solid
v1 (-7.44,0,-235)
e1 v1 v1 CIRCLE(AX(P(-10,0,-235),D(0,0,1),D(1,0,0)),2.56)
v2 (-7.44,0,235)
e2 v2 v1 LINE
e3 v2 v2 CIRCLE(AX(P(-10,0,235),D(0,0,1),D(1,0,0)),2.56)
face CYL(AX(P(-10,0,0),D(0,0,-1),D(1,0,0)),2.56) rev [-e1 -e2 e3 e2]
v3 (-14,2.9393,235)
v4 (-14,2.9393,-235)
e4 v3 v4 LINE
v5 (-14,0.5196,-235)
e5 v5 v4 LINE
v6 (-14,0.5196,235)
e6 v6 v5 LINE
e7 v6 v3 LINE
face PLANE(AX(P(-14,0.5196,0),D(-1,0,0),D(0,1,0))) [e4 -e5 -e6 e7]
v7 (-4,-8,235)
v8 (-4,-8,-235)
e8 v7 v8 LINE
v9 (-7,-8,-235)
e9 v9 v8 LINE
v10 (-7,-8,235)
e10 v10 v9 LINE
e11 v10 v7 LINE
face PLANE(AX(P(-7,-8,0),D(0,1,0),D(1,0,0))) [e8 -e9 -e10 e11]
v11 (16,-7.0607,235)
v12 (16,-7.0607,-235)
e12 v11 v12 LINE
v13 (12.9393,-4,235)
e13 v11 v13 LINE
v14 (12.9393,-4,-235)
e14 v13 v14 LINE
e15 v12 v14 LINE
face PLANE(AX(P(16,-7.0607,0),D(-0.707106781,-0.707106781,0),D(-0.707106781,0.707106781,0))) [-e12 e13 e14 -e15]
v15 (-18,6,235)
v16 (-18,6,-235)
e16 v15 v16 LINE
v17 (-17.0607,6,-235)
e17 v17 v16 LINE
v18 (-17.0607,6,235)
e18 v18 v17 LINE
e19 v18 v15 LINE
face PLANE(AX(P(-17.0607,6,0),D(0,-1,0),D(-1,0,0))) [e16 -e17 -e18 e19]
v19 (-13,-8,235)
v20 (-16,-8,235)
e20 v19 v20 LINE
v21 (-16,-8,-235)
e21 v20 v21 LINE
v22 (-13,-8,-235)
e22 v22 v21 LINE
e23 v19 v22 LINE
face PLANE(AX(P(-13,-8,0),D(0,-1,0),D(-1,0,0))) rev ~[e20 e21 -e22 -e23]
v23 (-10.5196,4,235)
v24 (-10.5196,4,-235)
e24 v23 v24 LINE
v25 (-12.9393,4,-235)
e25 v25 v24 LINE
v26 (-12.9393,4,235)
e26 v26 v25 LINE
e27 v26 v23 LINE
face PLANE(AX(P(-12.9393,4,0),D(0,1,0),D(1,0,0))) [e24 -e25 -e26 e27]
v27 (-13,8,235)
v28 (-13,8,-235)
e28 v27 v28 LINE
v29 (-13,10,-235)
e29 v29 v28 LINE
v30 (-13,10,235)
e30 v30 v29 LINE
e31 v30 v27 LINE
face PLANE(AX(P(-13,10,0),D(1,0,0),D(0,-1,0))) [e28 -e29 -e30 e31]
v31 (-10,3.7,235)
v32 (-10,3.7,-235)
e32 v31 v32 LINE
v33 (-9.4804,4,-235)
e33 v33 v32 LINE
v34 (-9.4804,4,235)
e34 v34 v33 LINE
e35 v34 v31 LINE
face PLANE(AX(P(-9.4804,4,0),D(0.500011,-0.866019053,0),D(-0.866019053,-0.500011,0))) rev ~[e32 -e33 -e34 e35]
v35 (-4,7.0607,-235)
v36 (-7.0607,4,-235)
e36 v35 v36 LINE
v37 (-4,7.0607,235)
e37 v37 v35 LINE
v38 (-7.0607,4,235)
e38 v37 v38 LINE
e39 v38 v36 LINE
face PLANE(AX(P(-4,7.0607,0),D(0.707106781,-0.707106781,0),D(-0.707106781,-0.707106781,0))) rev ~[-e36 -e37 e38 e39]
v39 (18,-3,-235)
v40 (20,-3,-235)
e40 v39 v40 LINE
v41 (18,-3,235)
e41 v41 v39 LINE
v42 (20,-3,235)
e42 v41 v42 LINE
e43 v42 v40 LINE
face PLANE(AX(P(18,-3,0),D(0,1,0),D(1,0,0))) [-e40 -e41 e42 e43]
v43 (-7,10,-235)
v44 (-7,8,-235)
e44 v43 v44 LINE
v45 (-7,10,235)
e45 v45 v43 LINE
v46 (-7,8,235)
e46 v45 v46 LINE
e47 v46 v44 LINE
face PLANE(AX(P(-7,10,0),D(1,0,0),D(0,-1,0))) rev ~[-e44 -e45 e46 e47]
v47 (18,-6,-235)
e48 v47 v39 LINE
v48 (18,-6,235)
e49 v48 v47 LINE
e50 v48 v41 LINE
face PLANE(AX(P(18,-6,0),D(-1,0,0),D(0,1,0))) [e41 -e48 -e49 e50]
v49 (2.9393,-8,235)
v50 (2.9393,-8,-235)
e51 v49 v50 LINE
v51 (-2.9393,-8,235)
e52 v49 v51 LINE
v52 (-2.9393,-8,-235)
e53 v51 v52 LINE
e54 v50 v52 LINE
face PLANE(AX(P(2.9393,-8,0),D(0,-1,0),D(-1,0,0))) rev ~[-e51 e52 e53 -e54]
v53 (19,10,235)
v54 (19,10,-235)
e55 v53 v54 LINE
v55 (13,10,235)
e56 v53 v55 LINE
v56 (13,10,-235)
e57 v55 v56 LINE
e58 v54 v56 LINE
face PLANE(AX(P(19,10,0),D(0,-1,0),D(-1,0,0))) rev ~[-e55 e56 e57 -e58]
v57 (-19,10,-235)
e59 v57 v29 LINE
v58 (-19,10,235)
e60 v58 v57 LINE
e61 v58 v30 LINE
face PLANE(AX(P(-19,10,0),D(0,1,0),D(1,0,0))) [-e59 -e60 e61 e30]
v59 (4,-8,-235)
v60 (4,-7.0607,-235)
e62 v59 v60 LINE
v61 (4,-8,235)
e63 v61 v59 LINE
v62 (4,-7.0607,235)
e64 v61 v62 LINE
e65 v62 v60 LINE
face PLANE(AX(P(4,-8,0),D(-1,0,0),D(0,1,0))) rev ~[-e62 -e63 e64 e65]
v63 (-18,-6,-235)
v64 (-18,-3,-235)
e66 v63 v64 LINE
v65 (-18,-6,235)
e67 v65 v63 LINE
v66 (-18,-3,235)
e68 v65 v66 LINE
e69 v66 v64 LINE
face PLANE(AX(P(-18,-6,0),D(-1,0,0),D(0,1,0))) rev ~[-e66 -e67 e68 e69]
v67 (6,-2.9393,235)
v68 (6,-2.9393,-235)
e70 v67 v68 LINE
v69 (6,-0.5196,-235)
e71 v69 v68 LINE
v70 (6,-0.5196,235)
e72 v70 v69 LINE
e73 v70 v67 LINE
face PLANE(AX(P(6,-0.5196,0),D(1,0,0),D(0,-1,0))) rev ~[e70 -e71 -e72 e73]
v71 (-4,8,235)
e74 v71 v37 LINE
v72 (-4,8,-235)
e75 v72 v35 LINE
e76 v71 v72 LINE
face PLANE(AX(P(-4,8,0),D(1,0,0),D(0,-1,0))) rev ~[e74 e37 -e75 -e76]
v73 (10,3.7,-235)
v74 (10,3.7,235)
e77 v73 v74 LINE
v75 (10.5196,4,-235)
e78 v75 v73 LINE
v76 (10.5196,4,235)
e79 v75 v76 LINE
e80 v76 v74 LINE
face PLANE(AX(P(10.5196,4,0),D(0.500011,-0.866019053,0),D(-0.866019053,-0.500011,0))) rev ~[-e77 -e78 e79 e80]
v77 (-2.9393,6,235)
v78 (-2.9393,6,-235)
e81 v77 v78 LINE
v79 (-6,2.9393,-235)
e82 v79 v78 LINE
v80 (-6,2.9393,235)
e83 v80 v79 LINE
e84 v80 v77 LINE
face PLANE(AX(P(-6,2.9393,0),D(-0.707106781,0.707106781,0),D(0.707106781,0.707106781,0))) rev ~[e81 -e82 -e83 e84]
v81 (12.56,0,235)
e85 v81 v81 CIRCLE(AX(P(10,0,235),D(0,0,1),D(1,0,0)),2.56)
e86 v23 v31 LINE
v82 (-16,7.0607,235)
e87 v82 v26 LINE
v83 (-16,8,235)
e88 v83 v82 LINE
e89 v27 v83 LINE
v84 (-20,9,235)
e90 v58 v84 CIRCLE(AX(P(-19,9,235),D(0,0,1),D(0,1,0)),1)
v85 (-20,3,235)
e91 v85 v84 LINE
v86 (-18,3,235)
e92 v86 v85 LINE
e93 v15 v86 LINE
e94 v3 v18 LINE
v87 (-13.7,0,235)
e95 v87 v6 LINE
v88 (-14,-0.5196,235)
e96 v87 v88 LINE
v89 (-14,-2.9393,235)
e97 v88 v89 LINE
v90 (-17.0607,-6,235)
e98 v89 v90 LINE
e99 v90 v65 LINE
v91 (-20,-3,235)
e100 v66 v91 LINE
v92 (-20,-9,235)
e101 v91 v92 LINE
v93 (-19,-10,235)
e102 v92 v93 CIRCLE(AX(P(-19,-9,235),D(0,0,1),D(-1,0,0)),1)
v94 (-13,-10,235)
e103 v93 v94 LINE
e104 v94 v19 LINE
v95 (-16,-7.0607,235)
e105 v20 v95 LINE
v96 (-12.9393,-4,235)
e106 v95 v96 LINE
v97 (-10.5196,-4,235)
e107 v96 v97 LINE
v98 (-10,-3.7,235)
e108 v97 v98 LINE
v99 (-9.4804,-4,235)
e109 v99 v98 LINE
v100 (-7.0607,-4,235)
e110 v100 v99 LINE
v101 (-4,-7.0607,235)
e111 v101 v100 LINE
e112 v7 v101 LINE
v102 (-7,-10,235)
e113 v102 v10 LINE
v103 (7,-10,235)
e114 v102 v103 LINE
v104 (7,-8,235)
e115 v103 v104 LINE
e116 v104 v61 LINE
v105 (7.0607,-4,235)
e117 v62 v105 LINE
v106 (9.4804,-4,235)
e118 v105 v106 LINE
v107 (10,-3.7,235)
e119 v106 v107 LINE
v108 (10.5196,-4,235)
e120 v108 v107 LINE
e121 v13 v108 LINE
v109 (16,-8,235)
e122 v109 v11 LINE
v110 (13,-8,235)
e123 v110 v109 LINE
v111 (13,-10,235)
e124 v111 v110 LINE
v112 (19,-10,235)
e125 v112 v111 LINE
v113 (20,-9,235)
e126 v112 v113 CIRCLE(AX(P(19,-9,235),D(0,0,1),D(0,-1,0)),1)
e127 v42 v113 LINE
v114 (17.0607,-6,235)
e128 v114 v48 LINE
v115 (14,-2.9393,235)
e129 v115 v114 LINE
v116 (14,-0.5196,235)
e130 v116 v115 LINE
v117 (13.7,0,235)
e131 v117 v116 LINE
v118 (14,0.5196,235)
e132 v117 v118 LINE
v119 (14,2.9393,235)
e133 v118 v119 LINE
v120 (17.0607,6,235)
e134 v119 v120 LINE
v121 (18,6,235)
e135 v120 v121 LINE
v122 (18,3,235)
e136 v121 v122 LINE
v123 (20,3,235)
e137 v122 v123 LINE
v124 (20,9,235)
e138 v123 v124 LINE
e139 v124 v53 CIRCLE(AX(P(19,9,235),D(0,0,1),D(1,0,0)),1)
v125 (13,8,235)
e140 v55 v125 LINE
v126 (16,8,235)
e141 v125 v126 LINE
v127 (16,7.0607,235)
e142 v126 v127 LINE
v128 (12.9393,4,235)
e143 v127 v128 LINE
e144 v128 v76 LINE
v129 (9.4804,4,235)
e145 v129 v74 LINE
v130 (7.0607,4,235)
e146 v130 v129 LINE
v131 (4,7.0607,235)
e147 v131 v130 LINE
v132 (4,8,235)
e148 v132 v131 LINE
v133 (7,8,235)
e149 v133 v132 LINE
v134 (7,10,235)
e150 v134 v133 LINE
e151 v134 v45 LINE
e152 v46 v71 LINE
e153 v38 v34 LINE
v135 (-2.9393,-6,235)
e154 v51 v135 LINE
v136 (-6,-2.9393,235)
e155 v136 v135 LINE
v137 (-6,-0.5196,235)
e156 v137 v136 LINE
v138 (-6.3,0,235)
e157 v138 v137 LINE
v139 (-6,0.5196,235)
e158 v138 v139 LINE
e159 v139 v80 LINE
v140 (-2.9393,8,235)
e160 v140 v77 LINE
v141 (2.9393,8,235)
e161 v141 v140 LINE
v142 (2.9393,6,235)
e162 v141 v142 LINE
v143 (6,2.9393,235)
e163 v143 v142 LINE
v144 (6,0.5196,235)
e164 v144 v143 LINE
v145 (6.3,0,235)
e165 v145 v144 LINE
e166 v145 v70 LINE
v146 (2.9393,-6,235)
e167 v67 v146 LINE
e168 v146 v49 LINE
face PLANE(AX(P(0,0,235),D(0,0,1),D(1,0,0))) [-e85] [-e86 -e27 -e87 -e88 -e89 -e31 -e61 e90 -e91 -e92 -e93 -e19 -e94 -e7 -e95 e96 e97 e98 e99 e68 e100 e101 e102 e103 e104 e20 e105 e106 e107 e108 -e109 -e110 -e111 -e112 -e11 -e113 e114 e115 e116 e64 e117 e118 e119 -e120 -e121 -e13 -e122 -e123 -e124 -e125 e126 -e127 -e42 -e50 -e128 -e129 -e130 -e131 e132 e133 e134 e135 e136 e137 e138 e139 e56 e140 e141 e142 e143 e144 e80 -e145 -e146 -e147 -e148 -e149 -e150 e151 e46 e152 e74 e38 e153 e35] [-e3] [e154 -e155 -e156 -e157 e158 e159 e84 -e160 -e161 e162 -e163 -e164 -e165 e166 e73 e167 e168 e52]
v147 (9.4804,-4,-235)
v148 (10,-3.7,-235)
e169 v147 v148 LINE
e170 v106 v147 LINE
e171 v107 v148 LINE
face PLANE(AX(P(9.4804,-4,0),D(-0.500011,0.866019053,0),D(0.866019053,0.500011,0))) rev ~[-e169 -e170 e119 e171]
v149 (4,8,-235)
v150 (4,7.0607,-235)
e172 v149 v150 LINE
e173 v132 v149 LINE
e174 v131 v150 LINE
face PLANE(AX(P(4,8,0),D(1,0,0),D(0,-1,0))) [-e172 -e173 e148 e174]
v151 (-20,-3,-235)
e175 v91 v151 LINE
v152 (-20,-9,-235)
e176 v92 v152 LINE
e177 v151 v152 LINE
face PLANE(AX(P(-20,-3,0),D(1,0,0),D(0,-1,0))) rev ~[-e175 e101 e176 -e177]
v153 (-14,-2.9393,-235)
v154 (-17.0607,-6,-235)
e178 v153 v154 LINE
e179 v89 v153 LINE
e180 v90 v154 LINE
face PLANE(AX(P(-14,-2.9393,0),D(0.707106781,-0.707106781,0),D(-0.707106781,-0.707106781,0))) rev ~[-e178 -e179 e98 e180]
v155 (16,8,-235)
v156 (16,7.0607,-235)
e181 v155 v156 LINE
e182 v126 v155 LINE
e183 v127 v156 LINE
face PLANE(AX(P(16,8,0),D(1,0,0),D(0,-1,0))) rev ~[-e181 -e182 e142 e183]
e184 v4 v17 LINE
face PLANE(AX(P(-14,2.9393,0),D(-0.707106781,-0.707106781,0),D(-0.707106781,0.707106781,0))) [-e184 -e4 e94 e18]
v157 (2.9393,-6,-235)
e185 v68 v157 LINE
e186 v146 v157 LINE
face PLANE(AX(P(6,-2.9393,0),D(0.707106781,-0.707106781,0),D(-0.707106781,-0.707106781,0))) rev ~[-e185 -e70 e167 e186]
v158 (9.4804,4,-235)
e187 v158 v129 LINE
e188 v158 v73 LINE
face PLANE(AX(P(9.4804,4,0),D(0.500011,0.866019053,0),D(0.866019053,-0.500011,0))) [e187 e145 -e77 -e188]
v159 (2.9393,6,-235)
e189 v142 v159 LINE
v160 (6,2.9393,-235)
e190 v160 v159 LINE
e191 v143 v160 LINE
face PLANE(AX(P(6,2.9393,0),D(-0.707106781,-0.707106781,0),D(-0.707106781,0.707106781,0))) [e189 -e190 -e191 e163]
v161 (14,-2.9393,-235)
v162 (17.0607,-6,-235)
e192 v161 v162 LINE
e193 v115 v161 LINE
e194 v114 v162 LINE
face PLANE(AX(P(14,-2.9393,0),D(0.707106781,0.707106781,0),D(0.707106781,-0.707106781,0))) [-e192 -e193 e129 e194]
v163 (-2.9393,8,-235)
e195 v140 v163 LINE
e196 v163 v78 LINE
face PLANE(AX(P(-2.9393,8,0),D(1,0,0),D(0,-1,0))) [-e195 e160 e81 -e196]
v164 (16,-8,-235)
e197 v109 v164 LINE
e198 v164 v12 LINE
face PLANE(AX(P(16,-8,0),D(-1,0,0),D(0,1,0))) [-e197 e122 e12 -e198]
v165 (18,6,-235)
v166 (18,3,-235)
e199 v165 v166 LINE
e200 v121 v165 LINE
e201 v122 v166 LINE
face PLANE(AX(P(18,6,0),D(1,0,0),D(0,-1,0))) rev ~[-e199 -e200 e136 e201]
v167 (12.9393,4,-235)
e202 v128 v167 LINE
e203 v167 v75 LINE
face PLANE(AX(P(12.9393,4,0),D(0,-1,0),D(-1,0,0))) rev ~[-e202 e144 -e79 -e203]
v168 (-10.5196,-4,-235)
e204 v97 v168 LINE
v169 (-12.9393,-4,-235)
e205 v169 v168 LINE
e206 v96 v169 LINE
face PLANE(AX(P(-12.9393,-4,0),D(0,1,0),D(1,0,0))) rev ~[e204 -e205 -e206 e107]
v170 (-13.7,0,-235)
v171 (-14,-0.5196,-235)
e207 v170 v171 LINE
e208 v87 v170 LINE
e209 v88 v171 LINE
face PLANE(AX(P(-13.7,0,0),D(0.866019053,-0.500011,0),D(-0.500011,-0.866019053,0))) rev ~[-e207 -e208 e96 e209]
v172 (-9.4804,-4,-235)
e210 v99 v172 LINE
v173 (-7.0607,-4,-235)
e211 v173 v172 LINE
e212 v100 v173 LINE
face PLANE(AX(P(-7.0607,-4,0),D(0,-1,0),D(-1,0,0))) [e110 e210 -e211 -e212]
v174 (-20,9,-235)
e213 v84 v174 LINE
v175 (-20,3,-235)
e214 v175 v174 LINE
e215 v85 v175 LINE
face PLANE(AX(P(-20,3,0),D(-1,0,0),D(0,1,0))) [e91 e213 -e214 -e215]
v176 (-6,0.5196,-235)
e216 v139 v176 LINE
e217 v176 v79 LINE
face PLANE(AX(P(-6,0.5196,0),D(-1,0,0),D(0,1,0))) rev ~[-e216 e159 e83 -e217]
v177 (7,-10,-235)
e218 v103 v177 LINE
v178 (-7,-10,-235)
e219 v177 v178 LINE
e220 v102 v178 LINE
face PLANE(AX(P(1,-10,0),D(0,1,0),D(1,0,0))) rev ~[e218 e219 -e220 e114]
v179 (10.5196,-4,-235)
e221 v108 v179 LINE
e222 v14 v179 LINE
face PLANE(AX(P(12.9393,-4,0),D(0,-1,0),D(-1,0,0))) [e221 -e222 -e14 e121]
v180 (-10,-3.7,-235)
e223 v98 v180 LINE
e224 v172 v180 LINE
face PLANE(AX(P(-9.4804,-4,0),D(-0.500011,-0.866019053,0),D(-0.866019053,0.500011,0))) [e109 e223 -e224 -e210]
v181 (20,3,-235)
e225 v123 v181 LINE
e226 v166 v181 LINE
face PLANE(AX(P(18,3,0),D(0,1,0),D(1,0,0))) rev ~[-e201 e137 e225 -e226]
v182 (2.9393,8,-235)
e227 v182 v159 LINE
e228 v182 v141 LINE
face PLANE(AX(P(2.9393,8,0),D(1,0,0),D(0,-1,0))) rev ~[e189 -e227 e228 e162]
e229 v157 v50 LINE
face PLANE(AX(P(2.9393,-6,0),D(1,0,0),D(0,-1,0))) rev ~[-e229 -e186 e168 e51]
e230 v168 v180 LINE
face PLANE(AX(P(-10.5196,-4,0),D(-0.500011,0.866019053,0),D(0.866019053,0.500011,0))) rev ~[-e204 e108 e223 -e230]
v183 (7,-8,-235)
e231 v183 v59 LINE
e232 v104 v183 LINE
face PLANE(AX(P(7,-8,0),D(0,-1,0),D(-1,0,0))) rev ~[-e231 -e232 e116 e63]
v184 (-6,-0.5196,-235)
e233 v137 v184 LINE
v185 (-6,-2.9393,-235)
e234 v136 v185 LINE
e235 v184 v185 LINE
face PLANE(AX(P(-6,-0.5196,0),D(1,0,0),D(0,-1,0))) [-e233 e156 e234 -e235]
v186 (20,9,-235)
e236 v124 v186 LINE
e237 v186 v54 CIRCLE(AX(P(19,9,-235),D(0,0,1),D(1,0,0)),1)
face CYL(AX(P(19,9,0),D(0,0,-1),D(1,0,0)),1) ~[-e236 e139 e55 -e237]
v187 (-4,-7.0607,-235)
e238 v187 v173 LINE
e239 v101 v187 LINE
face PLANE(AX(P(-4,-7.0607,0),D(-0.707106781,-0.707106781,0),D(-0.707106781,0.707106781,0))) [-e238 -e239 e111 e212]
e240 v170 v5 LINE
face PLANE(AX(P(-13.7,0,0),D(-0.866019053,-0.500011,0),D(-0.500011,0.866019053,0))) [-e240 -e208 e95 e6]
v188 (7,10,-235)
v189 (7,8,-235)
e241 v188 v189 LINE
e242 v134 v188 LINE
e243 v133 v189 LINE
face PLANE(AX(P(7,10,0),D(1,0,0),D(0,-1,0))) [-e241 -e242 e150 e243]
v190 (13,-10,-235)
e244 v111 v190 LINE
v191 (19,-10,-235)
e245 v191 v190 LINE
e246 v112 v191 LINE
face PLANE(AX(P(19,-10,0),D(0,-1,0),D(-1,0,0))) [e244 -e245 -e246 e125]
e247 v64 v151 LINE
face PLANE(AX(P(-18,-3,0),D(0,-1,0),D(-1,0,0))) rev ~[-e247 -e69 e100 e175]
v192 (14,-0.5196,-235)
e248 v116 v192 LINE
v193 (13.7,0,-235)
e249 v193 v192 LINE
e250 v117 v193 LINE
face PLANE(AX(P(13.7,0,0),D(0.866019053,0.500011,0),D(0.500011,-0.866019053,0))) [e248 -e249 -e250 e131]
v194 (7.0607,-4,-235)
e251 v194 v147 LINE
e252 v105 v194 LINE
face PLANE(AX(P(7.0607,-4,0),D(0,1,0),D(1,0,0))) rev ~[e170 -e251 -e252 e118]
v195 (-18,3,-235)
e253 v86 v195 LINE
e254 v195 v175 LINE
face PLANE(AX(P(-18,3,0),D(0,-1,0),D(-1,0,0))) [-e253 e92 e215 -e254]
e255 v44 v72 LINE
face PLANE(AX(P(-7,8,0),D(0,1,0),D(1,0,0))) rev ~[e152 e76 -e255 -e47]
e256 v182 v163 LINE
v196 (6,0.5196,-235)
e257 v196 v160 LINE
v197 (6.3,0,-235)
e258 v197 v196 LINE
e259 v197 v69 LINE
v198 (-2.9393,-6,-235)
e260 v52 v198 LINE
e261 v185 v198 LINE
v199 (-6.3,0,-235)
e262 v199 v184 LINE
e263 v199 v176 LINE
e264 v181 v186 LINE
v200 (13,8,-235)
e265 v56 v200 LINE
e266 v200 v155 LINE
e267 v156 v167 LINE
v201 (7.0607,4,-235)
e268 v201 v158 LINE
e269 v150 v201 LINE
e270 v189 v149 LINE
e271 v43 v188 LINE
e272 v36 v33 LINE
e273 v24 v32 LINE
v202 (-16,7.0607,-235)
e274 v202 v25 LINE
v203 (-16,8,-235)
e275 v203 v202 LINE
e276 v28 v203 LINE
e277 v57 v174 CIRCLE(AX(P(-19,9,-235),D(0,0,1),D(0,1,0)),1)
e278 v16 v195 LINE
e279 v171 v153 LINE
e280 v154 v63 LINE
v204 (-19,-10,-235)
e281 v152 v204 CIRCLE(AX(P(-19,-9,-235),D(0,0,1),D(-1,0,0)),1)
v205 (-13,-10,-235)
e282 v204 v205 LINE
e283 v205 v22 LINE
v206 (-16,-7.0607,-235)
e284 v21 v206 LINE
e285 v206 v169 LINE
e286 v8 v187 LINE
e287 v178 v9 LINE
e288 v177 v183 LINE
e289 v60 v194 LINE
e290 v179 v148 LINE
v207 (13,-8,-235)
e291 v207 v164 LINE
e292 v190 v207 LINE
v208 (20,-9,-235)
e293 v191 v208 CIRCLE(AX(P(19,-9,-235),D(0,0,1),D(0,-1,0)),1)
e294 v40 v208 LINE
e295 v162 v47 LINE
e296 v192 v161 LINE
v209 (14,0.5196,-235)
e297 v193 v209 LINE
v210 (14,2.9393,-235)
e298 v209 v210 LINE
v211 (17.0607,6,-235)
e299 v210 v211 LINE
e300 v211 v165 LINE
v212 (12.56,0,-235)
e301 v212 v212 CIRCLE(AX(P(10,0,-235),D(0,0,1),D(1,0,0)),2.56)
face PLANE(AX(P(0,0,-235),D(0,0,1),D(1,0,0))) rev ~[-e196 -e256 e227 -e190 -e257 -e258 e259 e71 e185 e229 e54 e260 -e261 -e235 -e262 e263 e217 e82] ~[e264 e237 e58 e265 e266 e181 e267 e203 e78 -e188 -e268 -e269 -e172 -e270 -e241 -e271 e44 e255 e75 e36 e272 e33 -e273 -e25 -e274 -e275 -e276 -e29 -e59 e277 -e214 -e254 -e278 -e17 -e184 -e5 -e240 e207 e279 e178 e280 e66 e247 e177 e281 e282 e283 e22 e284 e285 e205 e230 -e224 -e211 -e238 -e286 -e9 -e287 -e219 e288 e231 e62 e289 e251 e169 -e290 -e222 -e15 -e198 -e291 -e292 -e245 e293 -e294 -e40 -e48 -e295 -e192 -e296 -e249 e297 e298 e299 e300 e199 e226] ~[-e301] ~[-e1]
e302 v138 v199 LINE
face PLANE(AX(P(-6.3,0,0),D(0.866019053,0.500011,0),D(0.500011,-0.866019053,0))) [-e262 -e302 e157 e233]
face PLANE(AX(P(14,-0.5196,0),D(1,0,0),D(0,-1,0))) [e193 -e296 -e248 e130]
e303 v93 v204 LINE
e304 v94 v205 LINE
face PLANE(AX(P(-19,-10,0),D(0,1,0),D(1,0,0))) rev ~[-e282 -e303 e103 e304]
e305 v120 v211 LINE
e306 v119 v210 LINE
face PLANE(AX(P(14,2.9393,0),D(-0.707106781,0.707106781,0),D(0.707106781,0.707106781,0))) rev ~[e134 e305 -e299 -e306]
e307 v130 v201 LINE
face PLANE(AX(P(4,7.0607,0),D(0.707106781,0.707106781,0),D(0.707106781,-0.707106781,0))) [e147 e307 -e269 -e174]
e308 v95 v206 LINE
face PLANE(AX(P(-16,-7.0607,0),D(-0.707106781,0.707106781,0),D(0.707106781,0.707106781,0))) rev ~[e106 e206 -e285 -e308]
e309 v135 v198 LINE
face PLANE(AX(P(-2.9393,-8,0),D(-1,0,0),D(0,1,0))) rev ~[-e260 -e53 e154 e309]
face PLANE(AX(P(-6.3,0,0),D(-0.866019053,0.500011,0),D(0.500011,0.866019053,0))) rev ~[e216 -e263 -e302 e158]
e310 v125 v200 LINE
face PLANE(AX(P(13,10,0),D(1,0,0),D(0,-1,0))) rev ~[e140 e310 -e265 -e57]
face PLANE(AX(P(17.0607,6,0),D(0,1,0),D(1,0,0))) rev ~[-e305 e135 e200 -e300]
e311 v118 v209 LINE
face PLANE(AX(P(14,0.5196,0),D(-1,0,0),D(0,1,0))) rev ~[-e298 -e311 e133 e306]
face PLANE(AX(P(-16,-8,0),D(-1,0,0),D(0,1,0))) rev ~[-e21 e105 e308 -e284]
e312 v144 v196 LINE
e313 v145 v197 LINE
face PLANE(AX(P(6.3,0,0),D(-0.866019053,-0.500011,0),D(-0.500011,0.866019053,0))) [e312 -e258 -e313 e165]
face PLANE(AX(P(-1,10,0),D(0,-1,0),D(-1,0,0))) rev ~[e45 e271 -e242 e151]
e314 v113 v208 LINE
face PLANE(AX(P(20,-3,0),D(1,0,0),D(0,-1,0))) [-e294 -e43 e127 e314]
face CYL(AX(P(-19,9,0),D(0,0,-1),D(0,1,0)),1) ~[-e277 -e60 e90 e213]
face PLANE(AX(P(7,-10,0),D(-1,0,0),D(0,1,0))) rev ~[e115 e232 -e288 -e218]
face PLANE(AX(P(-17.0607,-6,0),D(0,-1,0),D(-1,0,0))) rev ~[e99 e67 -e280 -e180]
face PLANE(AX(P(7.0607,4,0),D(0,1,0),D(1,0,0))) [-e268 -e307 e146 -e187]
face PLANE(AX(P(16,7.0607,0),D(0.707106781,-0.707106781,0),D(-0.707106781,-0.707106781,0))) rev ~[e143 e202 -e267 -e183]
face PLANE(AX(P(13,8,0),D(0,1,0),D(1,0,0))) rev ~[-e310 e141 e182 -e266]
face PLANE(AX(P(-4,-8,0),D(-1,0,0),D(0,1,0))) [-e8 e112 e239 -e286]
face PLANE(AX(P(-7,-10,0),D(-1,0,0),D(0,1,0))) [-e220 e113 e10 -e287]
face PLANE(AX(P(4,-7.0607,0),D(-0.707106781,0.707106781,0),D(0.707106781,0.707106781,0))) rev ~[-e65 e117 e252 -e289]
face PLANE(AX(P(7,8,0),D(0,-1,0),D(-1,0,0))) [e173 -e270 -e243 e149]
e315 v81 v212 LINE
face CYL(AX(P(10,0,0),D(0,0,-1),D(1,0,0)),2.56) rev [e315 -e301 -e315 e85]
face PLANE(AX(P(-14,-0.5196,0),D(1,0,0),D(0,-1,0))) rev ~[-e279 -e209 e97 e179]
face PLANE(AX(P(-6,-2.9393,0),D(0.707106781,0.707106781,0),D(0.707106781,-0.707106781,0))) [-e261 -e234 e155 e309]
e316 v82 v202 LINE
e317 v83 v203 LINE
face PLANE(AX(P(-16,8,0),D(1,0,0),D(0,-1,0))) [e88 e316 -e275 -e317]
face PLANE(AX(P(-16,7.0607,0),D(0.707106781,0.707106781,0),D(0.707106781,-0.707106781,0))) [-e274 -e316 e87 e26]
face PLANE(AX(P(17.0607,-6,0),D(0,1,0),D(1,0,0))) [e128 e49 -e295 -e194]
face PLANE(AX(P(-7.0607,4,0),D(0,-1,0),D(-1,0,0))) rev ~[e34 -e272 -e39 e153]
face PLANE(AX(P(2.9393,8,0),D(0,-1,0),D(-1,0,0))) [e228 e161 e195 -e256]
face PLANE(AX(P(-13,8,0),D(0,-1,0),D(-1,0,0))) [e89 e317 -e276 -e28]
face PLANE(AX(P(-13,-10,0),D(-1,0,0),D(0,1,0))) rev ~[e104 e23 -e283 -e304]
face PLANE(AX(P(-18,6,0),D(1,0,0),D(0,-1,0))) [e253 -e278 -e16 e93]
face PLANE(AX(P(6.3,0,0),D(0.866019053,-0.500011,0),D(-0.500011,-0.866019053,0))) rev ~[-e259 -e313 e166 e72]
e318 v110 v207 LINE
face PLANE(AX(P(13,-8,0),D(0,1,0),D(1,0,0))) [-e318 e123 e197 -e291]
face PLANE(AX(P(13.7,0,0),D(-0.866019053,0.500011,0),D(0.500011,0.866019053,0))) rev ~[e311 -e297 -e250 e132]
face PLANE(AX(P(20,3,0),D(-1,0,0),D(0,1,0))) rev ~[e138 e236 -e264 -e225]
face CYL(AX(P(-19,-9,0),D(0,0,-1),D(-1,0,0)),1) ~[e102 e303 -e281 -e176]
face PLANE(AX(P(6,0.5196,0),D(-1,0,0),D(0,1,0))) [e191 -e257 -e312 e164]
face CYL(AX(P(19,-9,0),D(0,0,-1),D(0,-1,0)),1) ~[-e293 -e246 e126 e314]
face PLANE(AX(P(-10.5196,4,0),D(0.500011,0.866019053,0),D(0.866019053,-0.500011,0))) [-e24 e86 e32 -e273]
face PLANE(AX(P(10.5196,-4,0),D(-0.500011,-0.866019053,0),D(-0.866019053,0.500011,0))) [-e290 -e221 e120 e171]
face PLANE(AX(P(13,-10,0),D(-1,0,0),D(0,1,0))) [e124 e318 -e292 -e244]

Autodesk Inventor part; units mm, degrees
ref_plane "YZ Plane" through (0, 0, 0) normal (1, 0, 0) x (0, 1, 0)
ref_plane "XZ Plane" through (0, 0, 0) normal (0, 1, 0) x (-1, 0, 0)
ref_plane "XY Plane" through (0, 0, 0) normal (0, 0, 1) x (1, 0, 0)
sketch "Skizze1" plane through (0, 0, 0) normal (0, 0, 1) x (1, 0, 0)
  circle A0 centre (10, 0) radius 2.56
  line L0 (10.5196, 4) -> (10, 3.7)
  line L1 (14, 0.5196) -> (14, 2.9393)
  line L2 (12.9393, 4) -> (10.5196, 4)
  line L3 (13.7, 0) -> (14, 0.5196)
  line L4 (14, 2.9393) -> (17.0607, 6)
  line L5 (17.0607, 6) -> (18, 6)
  line L6 (18, 6) -> (18, 3)
  line L7 (18, 3) -> (20, 3)
  line L8 (16, 7.0607) -> (12.9393, 4)
  line L9 (13, 8) -> (16, 8)
  line L10 (16, 8) -> (16, 7.0607)
  line L11 (20, 3) -> (20, 9)
  line L12 (19, 10) -> (13, 10)
  arc A1 (20, 9) -> (19, 10) centre (19, 9) ccw
  line L13 (13, 10) -> (13, 8)
  line L14 (10, 0) -> (19.7071, 9.7071) construction
  line L15 (-14.2899, 0) -> (14.2899, 0) construction
  line L16 (10, -14.2899) -> (10, 14.2899) construction
  line L17 (-28.2899, 0) -> (28.2899, 0) construction
  line L18 (0, -20.0059) -> (0, 20.0059) construction
  line L19 (14, -0.5196) -> (14, -2.9393)
  line L20 (13.7, 0) -> (14, -0.5196)
  circle A2 centre (10, 0) radius 2.56
  line L21 (10.5196, -4) -> (10, -3.7)
  line L22 (12.9393, -4) -> (10.5196, -4)
  line L23 (17.0607, -6) -> (18, -6)
  line L24 (14, -2.9393) -> (17.0607, -6)
  line L25 (16, -8) -> (16, -7.0607)
  line L26 (13, -8) -> (16, -8)
  line L27 (10, 0) -> (19.7071, -9.7071) construction
  line L28 (20, -3) -> (20, -9)
  line L29 (19, -10) -> (13, -10)
  arc A3 (19, -10) -> (20, -9) centre (19, -9) ccw
  line L30 (13, -10) -> (13, -8)
  line L31 (16, -7.0607) -> (12.9393, -4)
  line L32 (18, -3) -> (20, -3)
  line L33 (18, -6) -> (18, -3)
  line L34 (-14, 0.5196) -> (-14, 2.9393)
  line L35 (-13.7, 0) -> (-14, 0.5196)
  circle A4 centre (-10, 0) radius 2.56
  line L36 (-10.5196, 4) -> (-10, 3.7)
  line L37 (-12.9393, 4) -> (-10.5196, 4)
  line L38 (-17.0607, 6) -> (-18, 6)
  line L39 (-14, 2.9393) -> (-17.0607, 6)
  line L40 (-16, 8) -> (-16, 7.0607)
  line L41 (-13, 8) -> (-16, 8)
  line L42 (-10, 0) -> (-19.7071, 9.7071) construction
  line L43 (-10, -14.2899) -> (-10, 14.2899) construction
  line L44 (-20, 3) -> (-20, 9)
  line L45 (-19, 10) -> (-13, 10)
  arc A5 (-19, 10) -> (-20, 9) centre (-19, 9) ccw
  line L46 (-13, 10) -> (-13, 8)
  line L47 (-16, 7.0607) -> (-12.9393, 4)
  line L48 (-18, 3) -> (-20, 3)
  line L49 (-18, 6) -> (-18, 3)
  line L50 (-13.7, 0) -> (-14, -0.5196)
  line L51 (-14, -0.5196) -> (-14, -2.9393)
  line L52 (-10.5196, -4) -> (-10, -3.7)
  circle A6 centre (-10, 0) radius 2.56
  line L53 (-12.9393, -4) -> (-10.5196, -4)
  line L54 (-13, -10) -> (-13, -8)
  line L55 (-16, -7.0607) -> (-12.9393, -4)
  line L56 (-16, -8) -> (-16, -7.0607)
  line L57 (-13, -8) -> (-16, -8)
  line L58 (-14, -2.9393) -> (-17.0607, -6)
  line L59 (-10, 0) -> (-19.7071, -9.7071) construction
  line L60 (-19, -10) -> (-13, -10)
  line L61 (-17.0607, -6) -> (-18, -6)
  arc A7 (-20, -9) -> (-19, -10) centre (-19, -9) ccw
  line L62 (-20, -3) -> (-20, -9)
  line L63 (-18, -3) -> (-20, -3)
  line L64 (-18, -6) -> (-18, -3)
  line L65 (-9.4804, 4) -> (-10, 3.7)
  line L66 (-7.0607, -4) -> (-9.4804, -4)
  line L67 (-9.4804, -4) -> (-10, -3.7)
  line L68 (-7.0607, 4) -> (-9.4804, 4)
  line L69 (-4, 8) -> (-4, 7.0607)
  line L70 (-7, 8) -> (-4, 8)
  line L71 (-1, 10) -> (-7, 10)
  line L72 (-7, 10) -> (-7, 8)
  line L73 (-4, -7.0607) -> (-7.0607, -4)
  line L74 (-4, -8) -> (-4, -7.0607)
  line L75 (-1, -10) -> (-7, -10)
  line L76 (-7, -8) -> (-4, -8)
  line L77 (-7, -10) -> (-7, -8)
  line L78 (-4, 7.0607) -> (-7.0607, 4)
  line L79 (9.4804, 4) -> (10, 3.7)
  line L80 (7.0607, 4) -> (9.4804, 4)
  line L81 (4, 8) -> (4, 7.0607)
  line L82 (7, 8) -> (4, 8)
  line L83 (1, 10) -> (7, 10)
  line L84 (7, 10) -> (7, 8)
  line L85 (4, 7.0607) -> (7.0607, 4)
  line L86 (9.4804, -4) -> (10, -3.7)
  line L87 (7.0607, -4) -> (9.4804, -4)
  line L88 (7, -10) -> (7, -8)
  line L89 (4, -7.0607) -> (7.0607, -4)
  line L90 (4, -8) -> (4, -7.0607)
  line L91 (7, -8) -> (4, -8)
  line L92 (1, -10) -> (7, -10)
  line L93 (-1, 10) -> (1, 10)
  line L94 (-1, -10) -> (1, -10)
  line L95 (2.9393, 8) -> (-2.9393, 8)
  line L96 (2.9393, 8) -> (2.9393, 6)
  line L97 (6, 0.5196) -> (6, 2.9393)
  line L98 (6.3, 0) -> (6, 0.5196)
  line L99 (6, 2.9393) -> (2.9393, 6)
  line L100 (6.3, 0) -> (6, -0.5196)
  line L101 (6, -0.5196) -> (6, -2.9393)
  line L102 (6, -2.9393) -> (2.9393, -6)
  line L103 (-6.3, 0) -> (-6, -0.5196)
  line L104 (-6, 2.9393) -> (-2.9393, 6)
  line L105 (-6, 0.5196) -> (-6, 2.9393)
  line L106 (-6.3, 0) -> (-6, 0.5196)
  line L107 (-6, -0.5196) -> (-6, -2.9393)
  line L108 (-6, -2.9393) -> (-2.9393, -6)
  line L109 (-2.9393, 8) -> (-2.9393, 6)
  line L110 (2.9393, -6) -> (2.9393, -8)
  line L111 (2.9393, -8) -> (-2.9393, -8)
  line L112 (-2.9393, -8) -> (-2.9393, -6)
  point P0 (0, 0)
  point P1 (0, 8)
  dimension "d2" = 1.5
  dimension "d3" = 3
  dimension "d4" = 4
  dimension "d5" = 0.3
  dimension "d6" = 2
  dimension "d7" = 6
  dimension "d8" = 10
  dimension "d9" = 10
  dimension "d10" = 2
  dimension "d11" = 3
  dimension "d12" = 6
  dimension "d13" = 1
  dimension "d14" = 4
  dimension "d15" = 0.3
  dimension "d16" = 0.5196
  dimension "d17" = 0.5196
  dimension "d18" = 5.12
  dimension "d20" = 20
extrude "Extrusion1" add sketch "Skizze1" along normal mid plane 470
properties part number "Extrusion_20x40x470" material "Aluminium 6061"
